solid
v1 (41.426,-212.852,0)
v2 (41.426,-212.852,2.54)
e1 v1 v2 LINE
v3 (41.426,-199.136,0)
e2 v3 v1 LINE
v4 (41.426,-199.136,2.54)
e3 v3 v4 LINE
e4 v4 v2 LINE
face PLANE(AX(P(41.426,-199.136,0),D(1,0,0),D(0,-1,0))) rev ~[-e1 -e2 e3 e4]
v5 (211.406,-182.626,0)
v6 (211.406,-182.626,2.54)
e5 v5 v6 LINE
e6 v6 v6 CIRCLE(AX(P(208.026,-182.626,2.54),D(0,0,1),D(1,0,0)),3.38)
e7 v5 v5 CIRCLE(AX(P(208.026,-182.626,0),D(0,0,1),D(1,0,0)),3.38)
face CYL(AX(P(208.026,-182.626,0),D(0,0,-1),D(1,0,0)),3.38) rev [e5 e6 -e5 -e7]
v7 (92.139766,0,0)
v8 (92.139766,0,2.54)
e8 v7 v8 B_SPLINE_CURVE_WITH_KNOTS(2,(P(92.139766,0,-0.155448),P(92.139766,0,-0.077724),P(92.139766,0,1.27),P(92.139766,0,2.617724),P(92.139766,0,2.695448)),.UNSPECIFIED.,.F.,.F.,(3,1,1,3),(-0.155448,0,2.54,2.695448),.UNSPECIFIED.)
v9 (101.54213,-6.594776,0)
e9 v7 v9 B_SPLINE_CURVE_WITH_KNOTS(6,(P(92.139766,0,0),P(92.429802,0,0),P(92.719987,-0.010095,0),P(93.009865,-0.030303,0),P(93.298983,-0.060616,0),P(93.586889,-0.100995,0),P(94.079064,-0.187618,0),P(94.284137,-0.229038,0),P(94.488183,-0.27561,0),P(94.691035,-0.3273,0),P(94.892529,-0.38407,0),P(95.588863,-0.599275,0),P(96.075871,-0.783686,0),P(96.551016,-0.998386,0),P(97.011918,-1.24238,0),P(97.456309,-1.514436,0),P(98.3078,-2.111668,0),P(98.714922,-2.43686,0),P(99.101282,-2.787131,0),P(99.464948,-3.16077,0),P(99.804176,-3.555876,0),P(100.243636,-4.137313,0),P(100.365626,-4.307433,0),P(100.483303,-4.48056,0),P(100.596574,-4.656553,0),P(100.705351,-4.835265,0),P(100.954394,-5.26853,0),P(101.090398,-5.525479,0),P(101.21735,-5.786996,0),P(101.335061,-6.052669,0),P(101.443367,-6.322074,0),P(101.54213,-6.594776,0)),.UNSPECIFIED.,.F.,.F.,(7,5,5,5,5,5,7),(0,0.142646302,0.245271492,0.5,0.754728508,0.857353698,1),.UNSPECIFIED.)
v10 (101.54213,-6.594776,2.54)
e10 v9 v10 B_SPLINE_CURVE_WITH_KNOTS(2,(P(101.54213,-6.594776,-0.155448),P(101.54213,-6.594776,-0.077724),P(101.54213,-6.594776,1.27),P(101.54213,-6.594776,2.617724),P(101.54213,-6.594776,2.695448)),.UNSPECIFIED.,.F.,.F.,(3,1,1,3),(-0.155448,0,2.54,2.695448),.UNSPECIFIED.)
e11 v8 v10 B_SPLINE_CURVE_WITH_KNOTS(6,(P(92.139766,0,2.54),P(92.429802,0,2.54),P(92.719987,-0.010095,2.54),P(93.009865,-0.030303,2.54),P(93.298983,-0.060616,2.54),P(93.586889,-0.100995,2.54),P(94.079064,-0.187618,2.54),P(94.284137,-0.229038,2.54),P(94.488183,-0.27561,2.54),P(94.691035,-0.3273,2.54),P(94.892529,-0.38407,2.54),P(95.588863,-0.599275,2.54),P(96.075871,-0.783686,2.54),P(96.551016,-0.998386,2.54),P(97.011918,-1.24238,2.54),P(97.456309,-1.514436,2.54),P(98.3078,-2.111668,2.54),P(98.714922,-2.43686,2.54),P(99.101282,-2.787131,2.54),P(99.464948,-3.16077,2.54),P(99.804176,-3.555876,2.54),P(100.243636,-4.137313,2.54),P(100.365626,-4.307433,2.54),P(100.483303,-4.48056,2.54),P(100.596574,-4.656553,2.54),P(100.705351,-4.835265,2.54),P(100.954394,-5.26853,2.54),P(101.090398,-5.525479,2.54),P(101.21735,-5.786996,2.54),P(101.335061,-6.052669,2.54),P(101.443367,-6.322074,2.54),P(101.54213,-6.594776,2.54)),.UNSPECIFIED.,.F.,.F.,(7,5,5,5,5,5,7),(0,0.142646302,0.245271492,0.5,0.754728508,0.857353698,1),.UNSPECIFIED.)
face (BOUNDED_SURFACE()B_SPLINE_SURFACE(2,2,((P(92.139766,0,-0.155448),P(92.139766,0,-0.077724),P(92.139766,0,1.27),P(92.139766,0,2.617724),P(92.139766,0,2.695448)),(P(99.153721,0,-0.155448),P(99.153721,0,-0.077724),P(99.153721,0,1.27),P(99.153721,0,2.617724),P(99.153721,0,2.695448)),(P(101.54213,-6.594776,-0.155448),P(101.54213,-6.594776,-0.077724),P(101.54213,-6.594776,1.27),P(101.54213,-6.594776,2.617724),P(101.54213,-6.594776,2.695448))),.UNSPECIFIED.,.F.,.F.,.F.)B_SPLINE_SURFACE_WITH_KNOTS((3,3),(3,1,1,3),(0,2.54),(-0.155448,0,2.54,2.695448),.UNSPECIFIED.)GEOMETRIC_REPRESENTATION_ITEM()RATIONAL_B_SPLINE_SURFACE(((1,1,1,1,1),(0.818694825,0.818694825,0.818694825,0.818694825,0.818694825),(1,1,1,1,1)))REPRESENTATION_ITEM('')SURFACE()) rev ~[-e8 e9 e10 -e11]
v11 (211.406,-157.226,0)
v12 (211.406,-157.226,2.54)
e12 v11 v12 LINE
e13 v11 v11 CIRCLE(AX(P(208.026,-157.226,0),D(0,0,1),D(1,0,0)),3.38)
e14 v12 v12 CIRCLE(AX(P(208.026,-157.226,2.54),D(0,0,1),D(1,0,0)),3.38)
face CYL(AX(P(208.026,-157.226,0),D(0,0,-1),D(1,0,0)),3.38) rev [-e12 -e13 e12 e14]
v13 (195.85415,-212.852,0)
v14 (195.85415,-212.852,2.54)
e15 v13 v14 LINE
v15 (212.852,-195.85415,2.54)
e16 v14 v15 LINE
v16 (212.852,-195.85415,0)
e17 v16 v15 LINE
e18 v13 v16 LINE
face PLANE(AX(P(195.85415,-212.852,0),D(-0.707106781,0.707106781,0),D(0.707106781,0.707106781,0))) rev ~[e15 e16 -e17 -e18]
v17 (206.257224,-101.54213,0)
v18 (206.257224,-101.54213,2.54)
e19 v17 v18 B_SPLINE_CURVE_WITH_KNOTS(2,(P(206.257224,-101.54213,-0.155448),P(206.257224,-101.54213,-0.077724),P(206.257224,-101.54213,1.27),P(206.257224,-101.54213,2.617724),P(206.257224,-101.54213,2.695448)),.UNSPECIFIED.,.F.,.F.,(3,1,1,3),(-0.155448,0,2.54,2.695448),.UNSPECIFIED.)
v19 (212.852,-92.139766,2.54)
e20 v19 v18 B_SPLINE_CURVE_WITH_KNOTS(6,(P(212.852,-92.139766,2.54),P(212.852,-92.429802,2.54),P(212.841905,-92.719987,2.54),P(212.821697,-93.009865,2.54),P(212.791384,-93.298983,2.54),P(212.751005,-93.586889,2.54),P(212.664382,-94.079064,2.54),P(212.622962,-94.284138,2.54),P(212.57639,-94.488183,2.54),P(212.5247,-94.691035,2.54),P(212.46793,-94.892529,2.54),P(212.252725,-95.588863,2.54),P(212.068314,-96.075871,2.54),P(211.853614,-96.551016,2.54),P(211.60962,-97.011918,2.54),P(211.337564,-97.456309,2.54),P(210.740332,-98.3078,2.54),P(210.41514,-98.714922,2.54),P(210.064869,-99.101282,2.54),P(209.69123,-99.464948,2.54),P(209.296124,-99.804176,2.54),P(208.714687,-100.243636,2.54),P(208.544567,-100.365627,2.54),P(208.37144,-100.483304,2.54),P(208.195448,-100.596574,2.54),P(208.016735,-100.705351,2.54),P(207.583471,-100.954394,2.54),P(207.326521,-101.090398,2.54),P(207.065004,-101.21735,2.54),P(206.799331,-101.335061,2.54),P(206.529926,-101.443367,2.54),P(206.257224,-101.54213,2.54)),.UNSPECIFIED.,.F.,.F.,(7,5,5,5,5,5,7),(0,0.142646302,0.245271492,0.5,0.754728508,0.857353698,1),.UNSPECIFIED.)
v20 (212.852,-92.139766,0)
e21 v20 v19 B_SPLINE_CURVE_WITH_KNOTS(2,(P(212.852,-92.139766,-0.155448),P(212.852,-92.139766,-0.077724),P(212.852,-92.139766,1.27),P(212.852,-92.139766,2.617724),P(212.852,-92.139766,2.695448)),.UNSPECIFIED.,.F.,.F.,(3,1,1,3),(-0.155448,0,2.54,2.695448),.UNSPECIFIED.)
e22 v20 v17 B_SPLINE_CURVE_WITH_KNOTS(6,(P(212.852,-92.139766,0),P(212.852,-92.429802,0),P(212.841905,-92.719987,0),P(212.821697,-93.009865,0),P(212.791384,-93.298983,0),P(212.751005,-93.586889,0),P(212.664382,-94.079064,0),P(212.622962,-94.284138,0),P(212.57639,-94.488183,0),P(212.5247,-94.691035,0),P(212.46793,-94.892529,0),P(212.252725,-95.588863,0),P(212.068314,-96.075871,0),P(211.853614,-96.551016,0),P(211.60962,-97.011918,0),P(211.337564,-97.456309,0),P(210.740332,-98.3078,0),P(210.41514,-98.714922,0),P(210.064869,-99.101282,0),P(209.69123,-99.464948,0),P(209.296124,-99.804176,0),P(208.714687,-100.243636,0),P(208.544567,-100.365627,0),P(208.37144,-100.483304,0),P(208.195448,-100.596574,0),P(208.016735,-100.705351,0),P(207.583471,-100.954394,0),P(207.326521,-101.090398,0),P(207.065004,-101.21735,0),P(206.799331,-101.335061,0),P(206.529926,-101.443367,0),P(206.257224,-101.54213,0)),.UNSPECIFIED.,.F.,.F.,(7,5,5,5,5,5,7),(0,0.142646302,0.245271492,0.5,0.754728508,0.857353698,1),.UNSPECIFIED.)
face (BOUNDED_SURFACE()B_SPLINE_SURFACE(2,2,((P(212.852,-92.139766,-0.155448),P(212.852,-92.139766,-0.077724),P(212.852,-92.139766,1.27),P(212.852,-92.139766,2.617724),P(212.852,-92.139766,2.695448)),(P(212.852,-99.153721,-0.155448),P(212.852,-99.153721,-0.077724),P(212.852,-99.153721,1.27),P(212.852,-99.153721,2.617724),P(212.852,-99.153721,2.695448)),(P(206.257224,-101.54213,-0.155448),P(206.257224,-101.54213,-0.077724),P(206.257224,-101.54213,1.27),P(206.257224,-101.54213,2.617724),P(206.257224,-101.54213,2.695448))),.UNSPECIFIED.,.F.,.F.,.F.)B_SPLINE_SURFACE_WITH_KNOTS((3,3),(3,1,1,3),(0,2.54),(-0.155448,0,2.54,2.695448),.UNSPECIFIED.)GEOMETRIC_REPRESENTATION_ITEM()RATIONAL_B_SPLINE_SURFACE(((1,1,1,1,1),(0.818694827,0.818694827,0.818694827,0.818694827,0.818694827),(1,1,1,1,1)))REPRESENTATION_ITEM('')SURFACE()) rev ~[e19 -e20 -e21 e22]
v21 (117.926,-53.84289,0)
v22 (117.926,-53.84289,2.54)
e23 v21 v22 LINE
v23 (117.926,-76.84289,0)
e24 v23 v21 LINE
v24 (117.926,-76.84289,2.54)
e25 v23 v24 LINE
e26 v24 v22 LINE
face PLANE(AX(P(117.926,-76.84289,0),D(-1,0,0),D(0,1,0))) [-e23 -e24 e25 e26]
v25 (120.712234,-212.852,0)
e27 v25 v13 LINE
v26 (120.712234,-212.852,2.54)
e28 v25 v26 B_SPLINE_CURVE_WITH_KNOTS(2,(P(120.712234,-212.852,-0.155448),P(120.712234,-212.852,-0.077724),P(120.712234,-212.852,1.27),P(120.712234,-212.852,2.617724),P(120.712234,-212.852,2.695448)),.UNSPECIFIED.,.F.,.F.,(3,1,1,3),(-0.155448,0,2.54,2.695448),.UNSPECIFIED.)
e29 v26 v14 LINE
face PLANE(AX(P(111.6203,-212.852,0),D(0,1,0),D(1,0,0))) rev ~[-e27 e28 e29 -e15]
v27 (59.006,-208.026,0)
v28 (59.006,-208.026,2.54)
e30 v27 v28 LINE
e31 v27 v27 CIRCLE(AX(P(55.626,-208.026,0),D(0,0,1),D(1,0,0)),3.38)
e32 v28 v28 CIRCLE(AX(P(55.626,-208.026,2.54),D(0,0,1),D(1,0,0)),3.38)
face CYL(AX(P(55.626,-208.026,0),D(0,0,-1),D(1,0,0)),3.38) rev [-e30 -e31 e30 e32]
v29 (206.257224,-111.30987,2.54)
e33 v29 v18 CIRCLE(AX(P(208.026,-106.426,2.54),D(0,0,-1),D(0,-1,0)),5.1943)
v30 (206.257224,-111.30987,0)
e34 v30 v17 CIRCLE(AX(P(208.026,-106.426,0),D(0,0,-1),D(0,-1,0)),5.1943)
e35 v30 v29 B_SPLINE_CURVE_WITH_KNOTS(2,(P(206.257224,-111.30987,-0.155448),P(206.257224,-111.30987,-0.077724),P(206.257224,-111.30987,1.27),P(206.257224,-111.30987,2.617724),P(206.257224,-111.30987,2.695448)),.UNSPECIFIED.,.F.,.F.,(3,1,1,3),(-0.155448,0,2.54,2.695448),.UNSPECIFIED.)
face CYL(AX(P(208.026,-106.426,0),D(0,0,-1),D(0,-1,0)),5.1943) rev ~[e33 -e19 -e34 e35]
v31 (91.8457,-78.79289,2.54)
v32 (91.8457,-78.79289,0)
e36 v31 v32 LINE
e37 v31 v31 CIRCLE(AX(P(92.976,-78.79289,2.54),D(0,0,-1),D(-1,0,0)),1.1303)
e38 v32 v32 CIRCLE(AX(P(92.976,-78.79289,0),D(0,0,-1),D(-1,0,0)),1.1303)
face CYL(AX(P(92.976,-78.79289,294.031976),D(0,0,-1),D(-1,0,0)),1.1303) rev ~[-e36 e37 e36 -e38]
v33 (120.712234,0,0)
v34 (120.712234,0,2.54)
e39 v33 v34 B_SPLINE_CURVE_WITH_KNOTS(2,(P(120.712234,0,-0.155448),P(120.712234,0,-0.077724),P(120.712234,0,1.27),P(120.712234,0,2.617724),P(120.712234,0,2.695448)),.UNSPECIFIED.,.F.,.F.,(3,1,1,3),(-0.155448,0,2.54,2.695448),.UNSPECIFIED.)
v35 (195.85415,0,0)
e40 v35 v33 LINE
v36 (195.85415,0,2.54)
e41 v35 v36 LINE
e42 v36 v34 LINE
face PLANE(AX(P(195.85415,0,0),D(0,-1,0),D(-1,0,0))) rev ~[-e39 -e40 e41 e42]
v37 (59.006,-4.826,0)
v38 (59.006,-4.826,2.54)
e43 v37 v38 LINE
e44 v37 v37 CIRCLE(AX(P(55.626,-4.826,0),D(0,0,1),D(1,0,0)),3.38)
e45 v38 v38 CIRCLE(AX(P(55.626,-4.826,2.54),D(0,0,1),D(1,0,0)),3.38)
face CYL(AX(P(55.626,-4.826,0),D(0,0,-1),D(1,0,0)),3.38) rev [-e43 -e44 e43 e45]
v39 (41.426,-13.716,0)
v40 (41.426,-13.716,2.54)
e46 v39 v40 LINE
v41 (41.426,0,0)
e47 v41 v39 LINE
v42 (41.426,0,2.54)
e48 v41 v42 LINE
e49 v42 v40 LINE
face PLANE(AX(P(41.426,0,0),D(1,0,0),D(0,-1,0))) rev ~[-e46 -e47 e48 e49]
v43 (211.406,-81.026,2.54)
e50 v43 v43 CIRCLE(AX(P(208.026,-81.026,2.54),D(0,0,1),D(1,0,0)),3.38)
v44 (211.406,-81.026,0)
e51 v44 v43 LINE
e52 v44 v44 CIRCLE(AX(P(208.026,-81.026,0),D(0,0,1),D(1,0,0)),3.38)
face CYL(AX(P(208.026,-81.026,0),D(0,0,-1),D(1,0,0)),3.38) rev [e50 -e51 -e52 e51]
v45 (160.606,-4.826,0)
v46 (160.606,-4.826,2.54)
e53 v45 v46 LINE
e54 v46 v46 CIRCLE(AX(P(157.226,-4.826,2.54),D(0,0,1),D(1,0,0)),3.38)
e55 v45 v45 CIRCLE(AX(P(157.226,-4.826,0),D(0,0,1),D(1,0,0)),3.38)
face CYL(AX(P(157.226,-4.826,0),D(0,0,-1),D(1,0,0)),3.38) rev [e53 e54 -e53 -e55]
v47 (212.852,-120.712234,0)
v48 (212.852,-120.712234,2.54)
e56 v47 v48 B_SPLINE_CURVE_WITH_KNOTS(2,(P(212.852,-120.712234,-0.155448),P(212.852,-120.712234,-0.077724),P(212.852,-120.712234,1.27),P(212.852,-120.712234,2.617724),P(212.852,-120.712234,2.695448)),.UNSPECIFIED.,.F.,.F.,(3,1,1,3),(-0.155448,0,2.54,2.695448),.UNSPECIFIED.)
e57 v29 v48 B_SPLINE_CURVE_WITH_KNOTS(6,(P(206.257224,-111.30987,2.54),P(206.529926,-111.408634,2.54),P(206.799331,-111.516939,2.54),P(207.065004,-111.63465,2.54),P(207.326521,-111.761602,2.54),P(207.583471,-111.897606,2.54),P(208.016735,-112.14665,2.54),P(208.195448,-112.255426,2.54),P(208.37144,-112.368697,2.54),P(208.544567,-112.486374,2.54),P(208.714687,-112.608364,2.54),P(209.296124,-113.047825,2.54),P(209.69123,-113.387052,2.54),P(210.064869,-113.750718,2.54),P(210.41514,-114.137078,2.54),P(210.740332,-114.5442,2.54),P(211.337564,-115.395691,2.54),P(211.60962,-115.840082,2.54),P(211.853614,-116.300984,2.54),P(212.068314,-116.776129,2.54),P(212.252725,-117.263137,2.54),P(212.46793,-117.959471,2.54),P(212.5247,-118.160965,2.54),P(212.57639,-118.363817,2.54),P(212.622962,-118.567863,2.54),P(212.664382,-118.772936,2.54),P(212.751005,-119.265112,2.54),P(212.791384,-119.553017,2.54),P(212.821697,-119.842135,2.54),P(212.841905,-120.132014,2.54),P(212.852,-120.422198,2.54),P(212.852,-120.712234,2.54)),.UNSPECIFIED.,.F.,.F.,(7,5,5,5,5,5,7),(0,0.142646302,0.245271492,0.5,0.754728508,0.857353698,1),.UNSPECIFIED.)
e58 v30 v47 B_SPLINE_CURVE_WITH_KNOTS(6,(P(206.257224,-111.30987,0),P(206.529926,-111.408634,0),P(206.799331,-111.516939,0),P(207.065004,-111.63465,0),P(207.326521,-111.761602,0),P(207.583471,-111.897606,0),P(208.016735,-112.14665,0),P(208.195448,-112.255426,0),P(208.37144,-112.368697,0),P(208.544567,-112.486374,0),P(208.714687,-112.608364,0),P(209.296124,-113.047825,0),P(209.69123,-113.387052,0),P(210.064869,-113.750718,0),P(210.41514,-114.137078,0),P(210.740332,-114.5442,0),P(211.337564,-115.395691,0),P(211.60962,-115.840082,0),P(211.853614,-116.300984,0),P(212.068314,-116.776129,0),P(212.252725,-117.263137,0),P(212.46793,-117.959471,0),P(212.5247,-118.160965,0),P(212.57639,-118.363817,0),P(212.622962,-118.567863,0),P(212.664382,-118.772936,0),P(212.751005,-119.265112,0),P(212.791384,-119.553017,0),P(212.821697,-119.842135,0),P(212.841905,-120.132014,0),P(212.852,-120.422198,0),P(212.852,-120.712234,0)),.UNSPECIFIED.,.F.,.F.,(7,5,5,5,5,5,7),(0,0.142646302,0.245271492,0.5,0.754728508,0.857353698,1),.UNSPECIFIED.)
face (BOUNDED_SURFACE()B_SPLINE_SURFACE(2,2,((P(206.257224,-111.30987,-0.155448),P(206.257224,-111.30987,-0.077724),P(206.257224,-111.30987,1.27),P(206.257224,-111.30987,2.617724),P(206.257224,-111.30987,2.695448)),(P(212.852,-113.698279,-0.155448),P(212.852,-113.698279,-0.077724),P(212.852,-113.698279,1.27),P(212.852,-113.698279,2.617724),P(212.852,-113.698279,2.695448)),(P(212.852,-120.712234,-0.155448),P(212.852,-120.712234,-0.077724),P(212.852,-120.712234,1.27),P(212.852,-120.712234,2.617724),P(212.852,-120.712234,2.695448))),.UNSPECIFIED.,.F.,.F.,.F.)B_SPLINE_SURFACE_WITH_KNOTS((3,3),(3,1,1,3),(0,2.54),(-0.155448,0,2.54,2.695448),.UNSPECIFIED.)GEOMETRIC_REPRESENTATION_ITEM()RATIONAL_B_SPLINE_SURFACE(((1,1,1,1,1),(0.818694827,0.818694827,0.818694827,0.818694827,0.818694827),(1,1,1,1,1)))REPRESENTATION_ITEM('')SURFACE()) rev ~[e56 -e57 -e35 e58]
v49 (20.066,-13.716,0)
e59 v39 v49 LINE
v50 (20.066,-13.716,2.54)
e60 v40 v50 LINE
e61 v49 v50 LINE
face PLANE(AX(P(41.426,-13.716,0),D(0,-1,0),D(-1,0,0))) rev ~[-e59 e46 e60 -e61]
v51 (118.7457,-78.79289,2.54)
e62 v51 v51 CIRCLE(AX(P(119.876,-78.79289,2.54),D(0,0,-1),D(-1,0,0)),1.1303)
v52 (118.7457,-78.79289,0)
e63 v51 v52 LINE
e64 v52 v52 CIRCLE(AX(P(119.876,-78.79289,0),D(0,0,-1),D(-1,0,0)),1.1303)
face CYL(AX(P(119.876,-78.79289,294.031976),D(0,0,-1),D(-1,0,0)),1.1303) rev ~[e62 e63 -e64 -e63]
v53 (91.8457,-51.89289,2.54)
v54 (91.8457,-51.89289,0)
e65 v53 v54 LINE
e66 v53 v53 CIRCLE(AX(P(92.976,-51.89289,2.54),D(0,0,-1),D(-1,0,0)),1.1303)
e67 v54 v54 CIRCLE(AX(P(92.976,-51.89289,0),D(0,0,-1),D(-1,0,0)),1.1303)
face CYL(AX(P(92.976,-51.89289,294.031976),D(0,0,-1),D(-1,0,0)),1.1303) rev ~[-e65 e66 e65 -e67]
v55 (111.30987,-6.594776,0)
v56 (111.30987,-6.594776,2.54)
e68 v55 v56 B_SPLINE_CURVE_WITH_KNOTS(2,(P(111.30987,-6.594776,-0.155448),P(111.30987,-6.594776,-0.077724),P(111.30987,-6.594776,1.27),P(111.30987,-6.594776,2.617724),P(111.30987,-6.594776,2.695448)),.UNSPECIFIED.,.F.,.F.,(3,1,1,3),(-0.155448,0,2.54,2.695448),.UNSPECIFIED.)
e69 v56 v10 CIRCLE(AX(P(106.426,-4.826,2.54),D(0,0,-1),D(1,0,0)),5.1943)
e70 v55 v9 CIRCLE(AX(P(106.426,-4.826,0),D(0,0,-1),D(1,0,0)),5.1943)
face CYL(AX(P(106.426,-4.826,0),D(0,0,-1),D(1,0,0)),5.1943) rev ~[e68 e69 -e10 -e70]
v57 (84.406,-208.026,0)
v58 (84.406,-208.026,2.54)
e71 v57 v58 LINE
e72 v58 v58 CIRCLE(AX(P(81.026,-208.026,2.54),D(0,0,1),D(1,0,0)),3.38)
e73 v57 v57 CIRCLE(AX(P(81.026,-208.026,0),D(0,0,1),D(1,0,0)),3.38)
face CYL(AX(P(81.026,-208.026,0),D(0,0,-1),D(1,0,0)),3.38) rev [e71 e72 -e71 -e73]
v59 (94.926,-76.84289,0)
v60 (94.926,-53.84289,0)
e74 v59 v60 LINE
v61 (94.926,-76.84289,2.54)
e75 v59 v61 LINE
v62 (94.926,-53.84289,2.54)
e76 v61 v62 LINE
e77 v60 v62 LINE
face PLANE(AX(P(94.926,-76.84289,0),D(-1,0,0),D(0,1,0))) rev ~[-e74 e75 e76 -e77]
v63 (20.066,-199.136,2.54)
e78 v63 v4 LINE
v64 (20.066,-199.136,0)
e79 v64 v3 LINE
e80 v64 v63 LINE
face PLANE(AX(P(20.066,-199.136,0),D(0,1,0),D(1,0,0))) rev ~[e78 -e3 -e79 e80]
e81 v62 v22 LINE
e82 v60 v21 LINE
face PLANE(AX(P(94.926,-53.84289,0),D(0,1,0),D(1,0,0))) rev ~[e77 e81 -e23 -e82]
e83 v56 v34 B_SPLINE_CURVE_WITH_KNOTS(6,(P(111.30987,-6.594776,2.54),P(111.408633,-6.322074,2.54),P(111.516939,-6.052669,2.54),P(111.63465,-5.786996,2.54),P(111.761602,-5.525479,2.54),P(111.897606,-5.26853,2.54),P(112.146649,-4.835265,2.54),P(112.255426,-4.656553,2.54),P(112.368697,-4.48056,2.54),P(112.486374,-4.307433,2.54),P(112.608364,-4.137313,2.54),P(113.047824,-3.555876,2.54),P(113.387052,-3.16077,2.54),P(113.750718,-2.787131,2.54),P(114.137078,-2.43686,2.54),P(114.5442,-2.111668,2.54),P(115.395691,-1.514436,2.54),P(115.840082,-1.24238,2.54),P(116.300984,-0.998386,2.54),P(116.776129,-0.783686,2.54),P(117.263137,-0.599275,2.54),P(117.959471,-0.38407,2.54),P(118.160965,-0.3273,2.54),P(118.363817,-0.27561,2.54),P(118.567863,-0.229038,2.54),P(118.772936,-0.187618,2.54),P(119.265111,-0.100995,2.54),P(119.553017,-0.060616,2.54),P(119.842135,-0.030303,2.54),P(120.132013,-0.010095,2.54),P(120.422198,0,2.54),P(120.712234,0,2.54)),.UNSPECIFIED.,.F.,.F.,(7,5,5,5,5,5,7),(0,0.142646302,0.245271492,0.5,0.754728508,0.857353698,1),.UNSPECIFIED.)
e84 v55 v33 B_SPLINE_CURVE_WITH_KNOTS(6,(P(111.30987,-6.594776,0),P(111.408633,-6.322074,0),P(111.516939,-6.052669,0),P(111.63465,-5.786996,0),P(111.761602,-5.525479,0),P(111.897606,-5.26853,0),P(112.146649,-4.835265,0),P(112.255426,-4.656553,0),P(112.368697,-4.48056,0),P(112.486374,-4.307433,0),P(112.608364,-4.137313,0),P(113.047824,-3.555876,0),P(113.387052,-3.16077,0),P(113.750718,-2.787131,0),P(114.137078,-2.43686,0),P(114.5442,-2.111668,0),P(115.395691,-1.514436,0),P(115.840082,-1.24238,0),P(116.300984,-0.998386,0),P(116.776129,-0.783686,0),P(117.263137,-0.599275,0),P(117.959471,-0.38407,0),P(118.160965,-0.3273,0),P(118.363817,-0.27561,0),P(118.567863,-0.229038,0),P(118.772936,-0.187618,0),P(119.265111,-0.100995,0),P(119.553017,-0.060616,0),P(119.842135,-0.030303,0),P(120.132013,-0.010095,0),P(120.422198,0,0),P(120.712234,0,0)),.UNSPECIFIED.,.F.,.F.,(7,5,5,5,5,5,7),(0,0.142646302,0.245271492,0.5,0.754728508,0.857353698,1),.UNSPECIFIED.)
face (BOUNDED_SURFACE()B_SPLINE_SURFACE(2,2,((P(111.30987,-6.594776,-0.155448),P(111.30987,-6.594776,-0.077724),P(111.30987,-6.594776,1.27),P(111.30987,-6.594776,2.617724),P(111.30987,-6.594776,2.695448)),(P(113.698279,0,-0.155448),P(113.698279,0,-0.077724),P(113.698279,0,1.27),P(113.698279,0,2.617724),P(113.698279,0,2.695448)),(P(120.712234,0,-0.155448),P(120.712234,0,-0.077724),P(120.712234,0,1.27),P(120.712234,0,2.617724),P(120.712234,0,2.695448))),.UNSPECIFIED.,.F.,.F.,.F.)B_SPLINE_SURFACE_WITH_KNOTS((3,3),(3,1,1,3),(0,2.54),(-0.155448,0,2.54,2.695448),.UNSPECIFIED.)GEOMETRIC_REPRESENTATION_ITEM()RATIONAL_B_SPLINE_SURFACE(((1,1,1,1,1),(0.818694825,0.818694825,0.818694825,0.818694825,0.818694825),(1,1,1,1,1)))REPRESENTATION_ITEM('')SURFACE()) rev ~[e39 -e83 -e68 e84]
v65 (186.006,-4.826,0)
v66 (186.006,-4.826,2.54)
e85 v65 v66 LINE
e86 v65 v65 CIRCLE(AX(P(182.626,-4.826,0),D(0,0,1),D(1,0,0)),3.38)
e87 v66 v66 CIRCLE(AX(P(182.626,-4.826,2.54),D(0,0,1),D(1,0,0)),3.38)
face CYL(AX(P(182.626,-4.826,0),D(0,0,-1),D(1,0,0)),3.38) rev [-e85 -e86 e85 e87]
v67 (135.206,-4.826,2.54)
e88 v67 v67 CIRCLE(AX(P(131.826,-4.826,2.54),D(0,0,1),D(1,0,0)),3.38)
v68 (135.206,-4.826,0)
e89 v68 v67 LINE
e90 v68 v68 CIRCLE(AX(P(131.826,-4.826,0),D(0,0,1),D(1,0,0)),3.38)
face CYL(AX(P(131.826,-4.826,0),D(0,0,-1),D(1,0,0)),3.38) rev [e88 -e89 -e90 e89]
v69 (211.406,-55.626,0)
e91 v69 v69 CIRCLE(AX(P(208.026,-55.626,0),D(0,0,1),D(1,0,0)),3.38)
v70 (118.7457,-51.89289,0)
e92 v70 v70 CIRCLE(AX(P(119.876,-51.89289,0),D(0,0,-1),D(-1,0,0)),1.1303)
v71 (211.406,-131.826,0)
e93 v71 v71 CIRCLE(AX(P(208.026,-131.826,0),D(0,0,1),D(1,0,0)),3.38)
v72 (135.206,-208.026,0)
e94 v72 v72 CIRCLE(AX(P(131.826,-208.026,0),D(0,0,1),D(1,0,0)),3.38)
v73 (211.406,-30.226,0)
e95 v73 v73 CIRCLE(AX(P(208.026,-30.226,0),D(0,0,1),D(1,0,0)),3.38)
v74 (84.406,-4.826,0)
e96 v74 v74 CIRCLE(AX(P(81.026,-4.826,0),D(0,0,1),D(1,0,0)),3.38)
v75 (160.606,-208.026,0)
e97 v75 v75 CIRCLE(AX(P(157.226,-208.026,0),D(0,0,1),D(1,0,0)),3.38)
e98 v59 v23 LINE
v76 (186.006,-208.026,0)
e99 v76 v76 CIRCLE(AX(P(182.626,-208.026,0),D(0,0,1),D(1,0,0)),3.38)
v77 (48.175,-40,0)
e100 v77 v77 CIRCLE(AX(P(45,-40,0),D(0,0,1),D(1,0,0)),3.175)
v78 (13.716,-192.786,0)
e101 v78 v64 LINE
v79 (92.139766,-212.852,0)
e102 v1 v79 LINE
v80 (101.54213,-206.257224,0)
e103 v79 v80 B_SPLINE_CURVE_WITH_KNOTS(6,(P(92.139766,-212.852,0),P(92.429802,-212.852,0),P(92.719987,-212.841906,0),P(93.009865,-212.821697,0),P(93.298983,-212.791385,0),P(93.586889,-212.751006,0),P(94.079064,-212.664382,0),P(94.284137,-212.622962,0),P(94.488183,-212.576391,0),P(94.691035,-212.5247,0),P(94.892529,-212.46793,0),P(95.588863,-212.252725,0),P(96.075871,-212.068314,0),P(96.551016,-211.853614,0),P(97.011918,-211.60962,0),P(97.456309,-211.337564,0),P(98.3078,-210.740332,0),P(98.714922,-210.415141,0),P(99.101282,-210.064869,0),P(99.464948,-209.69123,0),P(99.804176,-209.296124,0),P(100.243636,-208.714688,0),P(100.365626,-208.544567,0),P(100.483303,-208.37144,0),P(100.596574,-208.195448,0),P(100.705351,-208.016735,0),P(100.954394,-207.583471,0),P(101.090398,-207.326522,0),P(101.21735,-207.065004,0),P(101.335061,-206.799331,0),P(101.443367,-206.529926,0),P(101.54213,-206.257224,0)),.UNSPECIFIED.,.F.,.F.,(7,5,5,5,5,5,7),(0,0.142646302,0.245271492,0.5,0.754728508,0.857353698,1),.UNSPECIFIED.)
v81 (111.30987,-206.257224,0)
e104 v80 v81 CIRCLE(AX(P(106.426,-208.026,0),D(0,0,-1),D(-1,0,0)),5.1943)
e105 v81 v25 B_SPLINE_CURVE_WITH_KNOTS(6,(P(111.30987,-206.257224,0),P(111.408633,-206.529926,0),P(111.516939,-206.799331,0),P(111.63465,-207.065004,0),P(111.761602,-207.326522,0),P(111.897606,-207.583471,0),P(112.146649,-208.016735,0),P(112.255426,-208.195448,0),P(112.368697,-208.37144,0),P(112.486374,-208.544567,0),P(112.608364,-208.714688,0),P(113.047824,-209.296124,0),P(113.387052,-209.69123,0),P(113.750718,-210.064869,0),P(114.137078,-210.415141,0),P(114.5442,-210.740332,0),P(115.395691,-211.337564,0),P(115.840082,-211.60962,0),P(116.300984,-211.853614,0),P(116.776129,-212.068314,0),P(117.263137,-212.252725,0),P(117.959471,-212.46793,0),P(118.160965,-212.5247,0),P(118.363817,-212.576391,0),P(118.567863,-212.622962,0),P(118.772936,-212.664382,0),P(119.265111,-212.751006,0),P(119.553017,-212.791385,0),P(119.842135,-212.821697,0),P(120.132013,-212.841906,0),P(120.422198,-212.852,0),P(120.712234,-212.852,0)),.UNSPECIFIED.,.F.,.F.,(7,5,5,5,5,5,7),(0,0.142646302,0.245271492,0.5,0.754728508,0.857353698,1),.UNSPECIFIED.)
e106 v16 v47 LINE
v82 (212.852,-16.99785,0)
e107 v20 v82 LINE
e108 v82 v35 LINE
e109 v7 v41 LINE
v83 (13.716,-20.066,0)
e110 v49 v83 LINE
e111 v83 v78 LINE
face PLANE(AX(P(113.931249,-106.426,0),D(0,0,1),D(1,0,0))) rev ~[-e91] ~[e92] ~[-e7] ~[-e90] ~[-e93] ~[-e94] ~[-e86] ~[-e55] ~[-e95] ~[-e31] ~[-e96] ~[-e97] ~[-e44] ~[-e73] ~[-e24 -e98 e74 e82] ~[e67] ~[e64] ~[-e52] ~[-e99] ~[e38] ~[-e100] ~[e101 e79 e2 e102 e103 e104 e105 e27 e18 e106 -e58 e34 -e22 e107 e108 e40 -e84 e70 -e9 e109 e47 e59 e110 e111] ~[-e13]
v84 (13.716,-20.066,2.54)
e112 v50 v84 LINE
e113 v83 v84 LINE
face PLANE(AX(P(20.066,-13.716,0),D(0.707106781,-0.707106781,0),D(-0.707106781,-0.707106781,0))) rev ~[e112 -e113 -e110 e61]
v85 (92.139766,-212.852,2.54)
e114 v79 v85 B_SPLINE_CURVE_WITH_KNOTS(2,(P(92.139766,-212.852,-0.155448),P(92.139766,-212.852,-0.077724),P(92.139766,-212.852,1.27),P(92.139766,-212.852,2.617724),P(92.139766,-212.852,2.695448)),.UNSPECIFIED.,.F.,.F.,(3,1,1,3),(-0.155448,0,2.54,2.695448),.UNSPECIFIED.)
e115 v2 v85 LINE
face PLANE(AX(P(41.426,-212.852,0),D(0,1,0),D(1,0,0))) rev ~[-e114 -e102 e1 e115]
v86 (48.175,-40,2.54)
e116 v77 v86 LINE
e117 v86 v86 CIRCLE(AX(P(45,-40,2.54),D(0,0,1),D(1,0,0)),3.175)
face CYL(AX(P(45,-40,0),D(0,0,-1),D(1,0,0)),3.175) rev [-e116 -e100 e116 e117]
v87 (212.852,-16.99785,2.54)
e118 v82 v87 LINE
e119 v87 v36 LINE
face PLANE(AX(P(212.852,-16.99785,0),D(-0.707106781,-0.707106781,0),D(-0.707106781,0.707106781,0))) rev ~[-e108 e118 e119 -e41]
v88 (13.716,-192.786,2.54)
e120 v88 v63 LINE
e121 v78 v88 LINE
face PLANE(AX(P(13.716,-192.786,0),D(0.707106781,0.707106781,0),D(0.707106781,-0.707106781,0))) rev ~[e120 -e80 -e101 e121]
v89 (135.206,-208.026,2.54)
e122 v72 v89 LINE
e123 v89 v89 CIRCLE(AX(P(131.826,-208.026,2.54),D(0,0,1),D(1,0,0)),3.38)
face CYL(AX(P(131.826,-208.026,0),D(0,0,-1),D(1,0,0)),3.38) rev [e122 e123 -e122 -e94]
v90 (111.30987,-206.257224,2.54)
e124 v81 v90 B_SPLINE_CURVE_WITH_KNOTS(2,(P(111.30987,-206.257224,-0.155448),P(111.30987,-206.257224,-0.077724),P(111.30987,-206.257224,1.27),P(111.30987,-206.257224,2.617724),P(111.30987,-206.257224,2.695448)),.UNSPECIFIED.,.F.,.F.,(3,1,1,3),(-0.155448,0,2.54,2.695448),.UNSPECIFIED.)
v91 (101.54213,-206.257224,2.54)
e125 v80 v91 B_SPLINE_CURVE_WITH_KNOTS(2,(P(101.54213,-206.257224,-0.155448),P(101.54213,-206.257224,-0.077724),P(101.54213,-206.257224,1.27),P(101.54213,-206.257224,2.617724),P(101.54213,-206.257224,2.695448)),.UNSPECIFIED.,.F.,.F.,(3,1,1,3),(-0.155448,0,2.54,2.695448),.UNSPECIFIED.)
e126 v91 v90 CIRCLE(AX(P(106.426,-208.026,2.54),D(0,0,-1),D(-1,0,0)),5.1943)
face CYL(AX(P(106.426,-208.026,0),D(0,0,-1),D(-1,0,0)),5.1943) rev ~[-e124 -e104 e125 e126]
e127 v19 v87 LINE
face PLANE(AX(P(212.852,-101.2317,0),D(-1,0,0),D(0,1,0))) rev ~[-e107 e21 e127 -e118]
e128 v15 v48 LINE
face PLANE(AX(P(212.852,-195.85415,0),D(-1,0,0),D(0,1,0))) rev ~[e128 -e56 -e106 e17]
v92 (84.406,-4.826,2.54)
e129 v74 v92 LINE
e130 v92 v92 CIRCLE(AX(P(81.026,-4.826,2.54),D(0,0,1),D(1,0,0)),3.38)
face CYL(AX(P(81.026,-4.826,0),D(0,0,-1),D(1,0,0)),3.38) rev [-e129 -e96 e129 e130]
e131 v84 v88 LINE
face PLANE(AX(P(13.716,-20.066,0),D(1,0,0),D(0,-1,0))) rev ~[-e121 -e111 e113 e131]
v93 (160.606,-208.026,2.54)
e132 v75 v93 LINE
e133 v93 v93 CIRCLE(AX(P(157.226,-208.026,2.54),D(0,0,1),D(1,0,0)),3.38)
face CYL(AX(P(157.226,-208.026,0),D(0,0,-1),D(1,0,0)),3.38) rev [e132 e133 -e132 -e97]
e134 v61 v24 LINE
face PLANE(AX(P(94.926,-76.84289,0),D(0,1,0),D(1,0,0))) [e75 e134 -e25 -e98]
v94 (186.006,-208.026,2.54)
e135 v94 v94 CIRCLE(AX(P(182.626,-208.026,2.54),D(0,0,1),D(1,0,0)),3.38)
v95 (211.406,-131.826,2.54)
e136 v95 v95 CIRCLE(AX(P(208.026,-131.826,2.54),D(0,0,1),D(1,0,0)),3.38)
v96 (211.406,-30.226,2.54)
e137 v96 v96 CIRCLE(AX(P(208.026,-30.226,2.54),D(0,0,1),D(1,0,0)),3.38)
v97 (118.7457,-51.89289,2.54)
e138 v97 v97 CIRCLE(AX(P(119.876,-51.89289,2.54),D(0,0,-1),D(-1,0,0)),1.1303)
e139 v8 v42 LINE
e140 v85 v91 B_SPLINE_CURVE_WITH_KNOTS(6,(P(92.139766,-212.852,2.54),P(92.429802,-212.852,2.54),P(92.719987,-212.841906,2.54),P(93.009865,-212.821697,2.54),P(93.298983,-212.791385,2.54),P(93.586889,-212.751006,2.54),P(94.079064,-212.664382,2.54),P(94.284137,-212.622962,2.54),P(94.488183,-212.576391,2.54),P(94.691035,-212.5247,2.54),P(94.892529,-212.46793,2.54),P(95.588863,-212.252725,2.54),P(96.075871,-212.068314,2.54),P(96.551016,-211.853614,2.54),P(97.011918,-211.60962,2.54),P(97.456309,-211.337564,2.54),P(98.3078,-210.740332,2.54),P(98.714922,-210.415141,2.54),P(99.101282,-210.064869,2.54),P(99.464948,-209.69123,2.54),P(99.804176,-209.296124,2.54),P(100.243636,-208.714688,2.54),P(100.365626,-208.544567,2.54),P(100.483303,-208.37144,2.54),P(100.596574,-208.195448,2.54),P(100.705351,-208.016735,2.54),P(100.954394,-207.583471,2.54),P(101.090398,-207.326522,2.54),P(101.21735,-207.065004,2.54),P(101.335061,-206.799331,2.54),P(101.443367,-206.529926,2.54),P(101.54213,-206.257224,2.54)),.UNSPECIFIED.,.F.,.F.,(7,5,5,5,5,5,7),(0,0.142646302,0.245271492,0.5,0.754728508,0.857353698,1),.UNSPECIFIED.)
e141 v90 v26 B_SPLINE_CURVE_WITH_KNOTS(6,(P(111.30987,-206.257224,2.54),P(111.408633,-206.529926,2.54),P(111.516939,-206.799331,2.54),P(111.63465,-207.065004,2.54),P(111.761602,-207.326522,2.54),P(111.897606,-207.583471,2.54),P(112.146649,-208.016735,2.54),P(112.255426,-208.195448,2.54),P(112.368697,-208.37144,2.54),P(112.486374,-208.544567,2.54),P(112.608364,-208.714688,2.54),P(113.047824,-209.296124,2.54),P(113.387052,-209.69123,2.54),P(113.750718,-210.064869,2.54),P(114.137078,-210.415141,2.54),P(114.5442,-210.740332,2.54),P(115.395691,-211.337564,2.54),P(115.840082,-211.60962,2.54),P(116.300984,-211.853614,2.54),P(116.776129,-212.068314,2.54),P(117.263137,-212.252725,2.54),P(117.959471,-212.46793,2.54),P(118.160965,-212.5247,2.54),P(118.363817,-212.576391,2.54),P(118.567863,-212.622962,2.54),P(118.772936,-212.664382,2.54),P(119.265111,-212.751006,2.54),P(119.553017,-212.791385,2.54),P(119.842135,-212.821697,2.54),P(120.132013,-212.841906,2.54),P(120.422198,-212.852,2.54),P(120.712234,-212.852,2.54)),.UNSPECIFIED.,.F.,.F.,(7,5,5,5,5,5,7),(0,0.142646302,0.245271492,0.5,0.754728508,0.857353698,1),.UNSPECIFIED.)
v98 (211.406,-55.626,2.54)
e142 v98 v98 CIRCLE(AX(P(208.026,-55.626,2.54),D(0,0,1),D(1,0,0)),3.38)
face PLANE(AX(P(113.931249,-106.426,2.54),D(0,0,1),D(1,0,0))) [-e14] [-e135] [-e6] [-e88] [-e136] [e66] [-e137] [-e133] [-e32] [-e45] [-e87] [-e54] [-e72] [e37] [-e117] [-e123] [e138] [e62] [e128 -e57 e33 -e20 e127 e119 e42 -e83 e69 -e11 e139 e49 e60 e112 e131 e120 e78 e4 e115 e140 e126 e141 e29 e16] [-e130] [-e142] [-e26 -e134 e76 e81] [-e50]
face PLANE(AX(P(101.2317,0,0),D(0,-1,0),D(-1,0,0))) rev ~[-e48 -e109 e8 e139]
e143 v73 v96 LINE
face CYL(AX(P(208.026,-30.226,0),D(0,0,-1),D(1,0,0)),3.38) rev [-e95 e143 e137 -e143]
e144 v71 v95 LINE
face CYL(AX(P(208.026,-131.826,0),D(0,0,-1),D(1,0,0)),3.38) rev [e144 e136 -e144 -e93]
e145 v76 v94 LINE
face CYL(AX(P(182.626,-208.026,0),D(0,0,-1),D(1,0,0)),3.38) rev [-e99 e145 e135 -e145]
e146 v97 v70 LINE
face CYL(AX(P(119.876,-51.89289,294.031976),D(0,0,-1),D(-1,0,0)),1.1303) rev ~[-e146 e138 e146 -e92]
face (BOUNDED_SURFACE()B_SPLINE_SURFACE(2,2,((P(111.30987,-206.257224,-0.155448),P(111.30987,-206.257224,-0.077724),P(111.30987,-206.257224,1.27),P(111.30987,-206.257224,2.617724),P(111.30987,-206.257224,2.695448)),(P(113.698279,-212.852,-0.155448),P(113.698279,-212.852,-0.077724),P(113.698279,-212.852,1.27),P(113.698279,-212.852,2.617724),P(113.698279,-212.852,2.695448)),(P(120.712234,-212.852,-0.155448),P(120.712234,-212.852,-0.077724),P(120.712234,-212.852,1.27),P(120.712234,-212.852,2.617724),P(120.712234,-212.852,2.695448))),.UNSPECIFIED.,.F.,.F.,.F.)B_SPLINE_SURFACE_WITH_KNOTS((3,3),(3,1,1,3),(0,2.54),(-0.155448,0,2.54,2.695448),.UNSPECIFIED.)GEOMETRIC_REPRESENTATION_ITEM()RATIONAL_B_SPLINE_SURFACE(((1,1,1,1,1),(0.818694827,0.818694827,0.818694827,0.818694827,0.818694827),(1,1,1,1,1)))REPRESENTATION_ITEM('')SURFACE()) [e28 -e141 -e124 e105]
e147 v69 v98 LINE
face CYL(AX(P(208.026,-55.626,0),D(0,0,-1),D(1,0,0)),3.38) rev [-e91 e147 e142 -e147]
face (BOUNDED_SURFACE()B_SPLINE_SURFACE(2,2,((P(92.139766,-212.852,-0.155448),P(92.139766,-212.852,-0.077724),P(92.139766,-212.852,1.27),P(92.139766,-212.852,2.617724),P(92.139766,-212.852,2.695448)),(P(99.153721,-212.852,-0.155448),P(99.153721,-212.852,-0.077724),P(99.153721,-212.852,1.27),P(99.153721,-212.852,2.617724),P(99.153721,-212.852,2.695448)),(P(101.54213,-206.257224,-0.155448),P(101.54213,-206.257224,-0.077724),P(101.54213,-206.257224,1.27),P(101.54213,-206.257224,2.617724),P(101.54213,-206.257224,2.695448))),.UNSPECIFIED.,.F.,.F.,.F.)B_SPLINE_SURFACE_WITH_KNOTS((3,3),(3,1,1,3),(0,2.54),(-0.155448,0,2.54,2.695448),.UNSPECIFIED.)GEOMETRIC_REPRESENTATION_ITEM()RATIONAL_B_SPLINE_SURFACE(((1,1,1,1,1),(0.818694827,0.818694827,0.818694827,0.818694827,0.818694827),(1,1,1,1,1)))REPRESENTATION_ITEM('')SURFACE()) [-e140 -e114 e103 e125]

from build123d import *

# Parameters (mm, degrees)
SKETCH1_R             = 3.38
SKETCH1_W             = 23
SKETCH1_H             = 23
SKETCH1_R_2           = 1.13
SKETCH1_R_3           = 3.175
BOSS_EXTRUDE1_DEPTH   = 2.54
F_4_40_TAPPED_HOLE1_D = 2.2606
FILLET1_R             = 10


with BuildPart() as part:
    # Sketch1 → Boss-Extrude1 (new body)
    with BuildSketch(Plane.XY):
        with BuildLine():
            Line((101.231699996, -8e-08), (41.425999995, -8e-08))
            Line((41.425999995, -8e-08), (41.425999995, -13.716000085))
            Line((41.425999995, -13.716000085), (20.065999995, -13.716000085))
            Line((20.065999995, -13.716000085), (13.715999995, -20.066000085))
            Line((13.715999995, -20.066000085), (13.715999995, -192.786000085))
            Line((13.715999995, -192.786000085), (20.065999995, -199.136000085))
            Line((20.065999995, -199.136000085), (41.425999995, -199.136000085))
            Line((41.425999995, -199.136000085), (41.425999995, -212.852000091))
            Line((41.425999995, -212.852000091), (101.231699997, -212.852000091))
            Line((101.231699997, -212.852000091), (101.231699997, -208.02600019))
            ThreePointArc((101.231699996, -208.02600019), (106.425999995, -202.83170019), (111.620299995, -208.02600019))
            Line((111.620299996, -208.02600019), (111.620299996, -212.852000091))
            Line((111.620299996, -212.852000091), (195.854149957, -212.852000091))
            Line((195.854149957, -212.852000091), (212.851999956, -195.854150092))
            Line((212.851999956, -195.854150092), (212.851999956, -111.620300137))
            Line((212.851999956, -111.620300137), (208.026000047, -111.620300137))
            ThreePointArc((208.026000047, -111.620300137), (202.831700048, -106.426000137), (208.026000047, -101.231700138))
            Line((208.026000047, -101.231700138), (212.851999956, -101.231700138))
            Line((212.851999956, -101.231700138), (212.851999956, -16.997850079))
            Line((212.851999956, -16.997850079), (195.854149957, -8e-08))
            Line((195.854149957, -8e-08), (111.620299995, -8e-08))
            Line((111.620299995, -8e-08), (111.620299995, -4.826000085))
            ThreePointArc((111.620299994, -4.826000085), (106.425999995, -10.020300084), (101.231699996, -4.826000085))
            Line((101.231699996, -4.826000085), (101.231699996, -8e-08))
        make_face()
        with Locations((55.625999995, -208.02600019)):
            Circle(SKETCH1_R, mode=Mode.SUBTRACT)
        with Locations((81.025999995, -208.02600019)):
            Circle(SKETCH1_R, mode=Mode.SUBTRACT)
        with Locations((131.825999995, -208.02600019)):
            Circle(SKETCH1_R, mode=Mode.SUBTRACT)
        with Locations((157.225999995, -208.02600019)):
            Circle(SKETCH1_R, mode=Mode.SUBTRACT)
        with Locations((182.625999995, -208.02600019)):
            Circle(SKETCH1_R, mode=Mode.SUBTRACT)
        with Locations((208.026000047, -182.626000137)):
            Circle(SKETCH1_R, mode=Mode.SUBTRACT)
        with Locations((208.026000047, -157.226000137)):
            Circle(SKETCH1_R, mode=Mode.SUBTRACT)
        with Locations((208.026000047, -131.826000137)):
            Circle(SKETCH1_R, mode=Mode.SUBTRACT)
        with Locations((55.625999995, -4.826000085)):
            Circle(SKETCH1_R, mode=Mode.SUBTRACT)
        with Locations((81.025999995, -4.826000085)):
            Circle(SKETCH1_R, mode=Mode.SUBTRACT)
        with Locations((208.026000047, -81.026000137)):
            Circle(SKETCH1_R, mode=Mode.SUBTRACT)
        with Locations((208.026000047, -55.626000137)):
            Circle(SKETCH1_R, mode=Mode.SUBTRACT)
        with Locations((131.825999995, -4.826000085)):
            Circle(SKETCH1_R, mode=Mode.SUBTRACT)
        with Locations((157.225999995, -4.826000085)):
            Circle(SKETCH1_R, mode=Mode.SUBTRACT)
        with Locations((208.026000047, -30.226000137)):
            Circle(SKETCH1_R, mode=Mode.SUBTRACT)
        with Locations((182.625999995, -4.826000085)):
            Circle(SKETCH1_R, mode=Mode.SUBTRACT)
        with Locations((106.426000003, -65.34289)):
            Rectangle(SKETCH1_W, SKETCH1_H, mode=Mode.SUBTRACT)
        with Locations((119.876000003, -51.89289)):
            Circle(SKETCH1_R_2, mode=Mode.SUBTRACT)
        with Locations((92.976000003, -78.79289)):
            Circle(SKETCH1_R_2, mode=Mode.SUBTRACT)
        with Locations((45, -40)):
            Circle(SKETCH1_R_3, mode=Mode.SUBTRACT)
        with Locations((92.976000003, -51.89289)):
            Circle(SKETCH1_R_2, mode=Mode.SUBTRACT)
        with Locations((119.876000003, -78.79289)):
            Circle(SKETCH1_R_2, mode=Mode.SUBTRACT)
    extrude(amount=BOSS_EXTRUDE1_DEPTH)

    # #4-40 Tapped Hole1 (through all)
    with Locations(Plane(origin=(92.976000003, -51.89289, 2.54), x_dir=(1, 0, 0), z_dir=(0, 0, 1))):
        with Locations((0, 0), (26.9, 0), (26.9, -26.9), (0, -26.9)):
            Hole(F_4_40_TAPPED_HOLE1_D / 2)

    # Fillet1
    fillet1_edges = [part.edges().sort_by_distance(p)[0] for p in [
        (101.231699997, -212.852000091, 1.27),
        (111.620299996, -212.852000091, 1.27),
        (212.851999956, -111.620300137, 1.27),
        (212.851999956, -101.231700138, 1.27),
        (111.620299995, -8e-08, 1.27),
        (101.231699996, -8e-08, 1.27),
    ]]
    fillet(fillet1_edges, radius=FILLET1_R)


solid = part.part
